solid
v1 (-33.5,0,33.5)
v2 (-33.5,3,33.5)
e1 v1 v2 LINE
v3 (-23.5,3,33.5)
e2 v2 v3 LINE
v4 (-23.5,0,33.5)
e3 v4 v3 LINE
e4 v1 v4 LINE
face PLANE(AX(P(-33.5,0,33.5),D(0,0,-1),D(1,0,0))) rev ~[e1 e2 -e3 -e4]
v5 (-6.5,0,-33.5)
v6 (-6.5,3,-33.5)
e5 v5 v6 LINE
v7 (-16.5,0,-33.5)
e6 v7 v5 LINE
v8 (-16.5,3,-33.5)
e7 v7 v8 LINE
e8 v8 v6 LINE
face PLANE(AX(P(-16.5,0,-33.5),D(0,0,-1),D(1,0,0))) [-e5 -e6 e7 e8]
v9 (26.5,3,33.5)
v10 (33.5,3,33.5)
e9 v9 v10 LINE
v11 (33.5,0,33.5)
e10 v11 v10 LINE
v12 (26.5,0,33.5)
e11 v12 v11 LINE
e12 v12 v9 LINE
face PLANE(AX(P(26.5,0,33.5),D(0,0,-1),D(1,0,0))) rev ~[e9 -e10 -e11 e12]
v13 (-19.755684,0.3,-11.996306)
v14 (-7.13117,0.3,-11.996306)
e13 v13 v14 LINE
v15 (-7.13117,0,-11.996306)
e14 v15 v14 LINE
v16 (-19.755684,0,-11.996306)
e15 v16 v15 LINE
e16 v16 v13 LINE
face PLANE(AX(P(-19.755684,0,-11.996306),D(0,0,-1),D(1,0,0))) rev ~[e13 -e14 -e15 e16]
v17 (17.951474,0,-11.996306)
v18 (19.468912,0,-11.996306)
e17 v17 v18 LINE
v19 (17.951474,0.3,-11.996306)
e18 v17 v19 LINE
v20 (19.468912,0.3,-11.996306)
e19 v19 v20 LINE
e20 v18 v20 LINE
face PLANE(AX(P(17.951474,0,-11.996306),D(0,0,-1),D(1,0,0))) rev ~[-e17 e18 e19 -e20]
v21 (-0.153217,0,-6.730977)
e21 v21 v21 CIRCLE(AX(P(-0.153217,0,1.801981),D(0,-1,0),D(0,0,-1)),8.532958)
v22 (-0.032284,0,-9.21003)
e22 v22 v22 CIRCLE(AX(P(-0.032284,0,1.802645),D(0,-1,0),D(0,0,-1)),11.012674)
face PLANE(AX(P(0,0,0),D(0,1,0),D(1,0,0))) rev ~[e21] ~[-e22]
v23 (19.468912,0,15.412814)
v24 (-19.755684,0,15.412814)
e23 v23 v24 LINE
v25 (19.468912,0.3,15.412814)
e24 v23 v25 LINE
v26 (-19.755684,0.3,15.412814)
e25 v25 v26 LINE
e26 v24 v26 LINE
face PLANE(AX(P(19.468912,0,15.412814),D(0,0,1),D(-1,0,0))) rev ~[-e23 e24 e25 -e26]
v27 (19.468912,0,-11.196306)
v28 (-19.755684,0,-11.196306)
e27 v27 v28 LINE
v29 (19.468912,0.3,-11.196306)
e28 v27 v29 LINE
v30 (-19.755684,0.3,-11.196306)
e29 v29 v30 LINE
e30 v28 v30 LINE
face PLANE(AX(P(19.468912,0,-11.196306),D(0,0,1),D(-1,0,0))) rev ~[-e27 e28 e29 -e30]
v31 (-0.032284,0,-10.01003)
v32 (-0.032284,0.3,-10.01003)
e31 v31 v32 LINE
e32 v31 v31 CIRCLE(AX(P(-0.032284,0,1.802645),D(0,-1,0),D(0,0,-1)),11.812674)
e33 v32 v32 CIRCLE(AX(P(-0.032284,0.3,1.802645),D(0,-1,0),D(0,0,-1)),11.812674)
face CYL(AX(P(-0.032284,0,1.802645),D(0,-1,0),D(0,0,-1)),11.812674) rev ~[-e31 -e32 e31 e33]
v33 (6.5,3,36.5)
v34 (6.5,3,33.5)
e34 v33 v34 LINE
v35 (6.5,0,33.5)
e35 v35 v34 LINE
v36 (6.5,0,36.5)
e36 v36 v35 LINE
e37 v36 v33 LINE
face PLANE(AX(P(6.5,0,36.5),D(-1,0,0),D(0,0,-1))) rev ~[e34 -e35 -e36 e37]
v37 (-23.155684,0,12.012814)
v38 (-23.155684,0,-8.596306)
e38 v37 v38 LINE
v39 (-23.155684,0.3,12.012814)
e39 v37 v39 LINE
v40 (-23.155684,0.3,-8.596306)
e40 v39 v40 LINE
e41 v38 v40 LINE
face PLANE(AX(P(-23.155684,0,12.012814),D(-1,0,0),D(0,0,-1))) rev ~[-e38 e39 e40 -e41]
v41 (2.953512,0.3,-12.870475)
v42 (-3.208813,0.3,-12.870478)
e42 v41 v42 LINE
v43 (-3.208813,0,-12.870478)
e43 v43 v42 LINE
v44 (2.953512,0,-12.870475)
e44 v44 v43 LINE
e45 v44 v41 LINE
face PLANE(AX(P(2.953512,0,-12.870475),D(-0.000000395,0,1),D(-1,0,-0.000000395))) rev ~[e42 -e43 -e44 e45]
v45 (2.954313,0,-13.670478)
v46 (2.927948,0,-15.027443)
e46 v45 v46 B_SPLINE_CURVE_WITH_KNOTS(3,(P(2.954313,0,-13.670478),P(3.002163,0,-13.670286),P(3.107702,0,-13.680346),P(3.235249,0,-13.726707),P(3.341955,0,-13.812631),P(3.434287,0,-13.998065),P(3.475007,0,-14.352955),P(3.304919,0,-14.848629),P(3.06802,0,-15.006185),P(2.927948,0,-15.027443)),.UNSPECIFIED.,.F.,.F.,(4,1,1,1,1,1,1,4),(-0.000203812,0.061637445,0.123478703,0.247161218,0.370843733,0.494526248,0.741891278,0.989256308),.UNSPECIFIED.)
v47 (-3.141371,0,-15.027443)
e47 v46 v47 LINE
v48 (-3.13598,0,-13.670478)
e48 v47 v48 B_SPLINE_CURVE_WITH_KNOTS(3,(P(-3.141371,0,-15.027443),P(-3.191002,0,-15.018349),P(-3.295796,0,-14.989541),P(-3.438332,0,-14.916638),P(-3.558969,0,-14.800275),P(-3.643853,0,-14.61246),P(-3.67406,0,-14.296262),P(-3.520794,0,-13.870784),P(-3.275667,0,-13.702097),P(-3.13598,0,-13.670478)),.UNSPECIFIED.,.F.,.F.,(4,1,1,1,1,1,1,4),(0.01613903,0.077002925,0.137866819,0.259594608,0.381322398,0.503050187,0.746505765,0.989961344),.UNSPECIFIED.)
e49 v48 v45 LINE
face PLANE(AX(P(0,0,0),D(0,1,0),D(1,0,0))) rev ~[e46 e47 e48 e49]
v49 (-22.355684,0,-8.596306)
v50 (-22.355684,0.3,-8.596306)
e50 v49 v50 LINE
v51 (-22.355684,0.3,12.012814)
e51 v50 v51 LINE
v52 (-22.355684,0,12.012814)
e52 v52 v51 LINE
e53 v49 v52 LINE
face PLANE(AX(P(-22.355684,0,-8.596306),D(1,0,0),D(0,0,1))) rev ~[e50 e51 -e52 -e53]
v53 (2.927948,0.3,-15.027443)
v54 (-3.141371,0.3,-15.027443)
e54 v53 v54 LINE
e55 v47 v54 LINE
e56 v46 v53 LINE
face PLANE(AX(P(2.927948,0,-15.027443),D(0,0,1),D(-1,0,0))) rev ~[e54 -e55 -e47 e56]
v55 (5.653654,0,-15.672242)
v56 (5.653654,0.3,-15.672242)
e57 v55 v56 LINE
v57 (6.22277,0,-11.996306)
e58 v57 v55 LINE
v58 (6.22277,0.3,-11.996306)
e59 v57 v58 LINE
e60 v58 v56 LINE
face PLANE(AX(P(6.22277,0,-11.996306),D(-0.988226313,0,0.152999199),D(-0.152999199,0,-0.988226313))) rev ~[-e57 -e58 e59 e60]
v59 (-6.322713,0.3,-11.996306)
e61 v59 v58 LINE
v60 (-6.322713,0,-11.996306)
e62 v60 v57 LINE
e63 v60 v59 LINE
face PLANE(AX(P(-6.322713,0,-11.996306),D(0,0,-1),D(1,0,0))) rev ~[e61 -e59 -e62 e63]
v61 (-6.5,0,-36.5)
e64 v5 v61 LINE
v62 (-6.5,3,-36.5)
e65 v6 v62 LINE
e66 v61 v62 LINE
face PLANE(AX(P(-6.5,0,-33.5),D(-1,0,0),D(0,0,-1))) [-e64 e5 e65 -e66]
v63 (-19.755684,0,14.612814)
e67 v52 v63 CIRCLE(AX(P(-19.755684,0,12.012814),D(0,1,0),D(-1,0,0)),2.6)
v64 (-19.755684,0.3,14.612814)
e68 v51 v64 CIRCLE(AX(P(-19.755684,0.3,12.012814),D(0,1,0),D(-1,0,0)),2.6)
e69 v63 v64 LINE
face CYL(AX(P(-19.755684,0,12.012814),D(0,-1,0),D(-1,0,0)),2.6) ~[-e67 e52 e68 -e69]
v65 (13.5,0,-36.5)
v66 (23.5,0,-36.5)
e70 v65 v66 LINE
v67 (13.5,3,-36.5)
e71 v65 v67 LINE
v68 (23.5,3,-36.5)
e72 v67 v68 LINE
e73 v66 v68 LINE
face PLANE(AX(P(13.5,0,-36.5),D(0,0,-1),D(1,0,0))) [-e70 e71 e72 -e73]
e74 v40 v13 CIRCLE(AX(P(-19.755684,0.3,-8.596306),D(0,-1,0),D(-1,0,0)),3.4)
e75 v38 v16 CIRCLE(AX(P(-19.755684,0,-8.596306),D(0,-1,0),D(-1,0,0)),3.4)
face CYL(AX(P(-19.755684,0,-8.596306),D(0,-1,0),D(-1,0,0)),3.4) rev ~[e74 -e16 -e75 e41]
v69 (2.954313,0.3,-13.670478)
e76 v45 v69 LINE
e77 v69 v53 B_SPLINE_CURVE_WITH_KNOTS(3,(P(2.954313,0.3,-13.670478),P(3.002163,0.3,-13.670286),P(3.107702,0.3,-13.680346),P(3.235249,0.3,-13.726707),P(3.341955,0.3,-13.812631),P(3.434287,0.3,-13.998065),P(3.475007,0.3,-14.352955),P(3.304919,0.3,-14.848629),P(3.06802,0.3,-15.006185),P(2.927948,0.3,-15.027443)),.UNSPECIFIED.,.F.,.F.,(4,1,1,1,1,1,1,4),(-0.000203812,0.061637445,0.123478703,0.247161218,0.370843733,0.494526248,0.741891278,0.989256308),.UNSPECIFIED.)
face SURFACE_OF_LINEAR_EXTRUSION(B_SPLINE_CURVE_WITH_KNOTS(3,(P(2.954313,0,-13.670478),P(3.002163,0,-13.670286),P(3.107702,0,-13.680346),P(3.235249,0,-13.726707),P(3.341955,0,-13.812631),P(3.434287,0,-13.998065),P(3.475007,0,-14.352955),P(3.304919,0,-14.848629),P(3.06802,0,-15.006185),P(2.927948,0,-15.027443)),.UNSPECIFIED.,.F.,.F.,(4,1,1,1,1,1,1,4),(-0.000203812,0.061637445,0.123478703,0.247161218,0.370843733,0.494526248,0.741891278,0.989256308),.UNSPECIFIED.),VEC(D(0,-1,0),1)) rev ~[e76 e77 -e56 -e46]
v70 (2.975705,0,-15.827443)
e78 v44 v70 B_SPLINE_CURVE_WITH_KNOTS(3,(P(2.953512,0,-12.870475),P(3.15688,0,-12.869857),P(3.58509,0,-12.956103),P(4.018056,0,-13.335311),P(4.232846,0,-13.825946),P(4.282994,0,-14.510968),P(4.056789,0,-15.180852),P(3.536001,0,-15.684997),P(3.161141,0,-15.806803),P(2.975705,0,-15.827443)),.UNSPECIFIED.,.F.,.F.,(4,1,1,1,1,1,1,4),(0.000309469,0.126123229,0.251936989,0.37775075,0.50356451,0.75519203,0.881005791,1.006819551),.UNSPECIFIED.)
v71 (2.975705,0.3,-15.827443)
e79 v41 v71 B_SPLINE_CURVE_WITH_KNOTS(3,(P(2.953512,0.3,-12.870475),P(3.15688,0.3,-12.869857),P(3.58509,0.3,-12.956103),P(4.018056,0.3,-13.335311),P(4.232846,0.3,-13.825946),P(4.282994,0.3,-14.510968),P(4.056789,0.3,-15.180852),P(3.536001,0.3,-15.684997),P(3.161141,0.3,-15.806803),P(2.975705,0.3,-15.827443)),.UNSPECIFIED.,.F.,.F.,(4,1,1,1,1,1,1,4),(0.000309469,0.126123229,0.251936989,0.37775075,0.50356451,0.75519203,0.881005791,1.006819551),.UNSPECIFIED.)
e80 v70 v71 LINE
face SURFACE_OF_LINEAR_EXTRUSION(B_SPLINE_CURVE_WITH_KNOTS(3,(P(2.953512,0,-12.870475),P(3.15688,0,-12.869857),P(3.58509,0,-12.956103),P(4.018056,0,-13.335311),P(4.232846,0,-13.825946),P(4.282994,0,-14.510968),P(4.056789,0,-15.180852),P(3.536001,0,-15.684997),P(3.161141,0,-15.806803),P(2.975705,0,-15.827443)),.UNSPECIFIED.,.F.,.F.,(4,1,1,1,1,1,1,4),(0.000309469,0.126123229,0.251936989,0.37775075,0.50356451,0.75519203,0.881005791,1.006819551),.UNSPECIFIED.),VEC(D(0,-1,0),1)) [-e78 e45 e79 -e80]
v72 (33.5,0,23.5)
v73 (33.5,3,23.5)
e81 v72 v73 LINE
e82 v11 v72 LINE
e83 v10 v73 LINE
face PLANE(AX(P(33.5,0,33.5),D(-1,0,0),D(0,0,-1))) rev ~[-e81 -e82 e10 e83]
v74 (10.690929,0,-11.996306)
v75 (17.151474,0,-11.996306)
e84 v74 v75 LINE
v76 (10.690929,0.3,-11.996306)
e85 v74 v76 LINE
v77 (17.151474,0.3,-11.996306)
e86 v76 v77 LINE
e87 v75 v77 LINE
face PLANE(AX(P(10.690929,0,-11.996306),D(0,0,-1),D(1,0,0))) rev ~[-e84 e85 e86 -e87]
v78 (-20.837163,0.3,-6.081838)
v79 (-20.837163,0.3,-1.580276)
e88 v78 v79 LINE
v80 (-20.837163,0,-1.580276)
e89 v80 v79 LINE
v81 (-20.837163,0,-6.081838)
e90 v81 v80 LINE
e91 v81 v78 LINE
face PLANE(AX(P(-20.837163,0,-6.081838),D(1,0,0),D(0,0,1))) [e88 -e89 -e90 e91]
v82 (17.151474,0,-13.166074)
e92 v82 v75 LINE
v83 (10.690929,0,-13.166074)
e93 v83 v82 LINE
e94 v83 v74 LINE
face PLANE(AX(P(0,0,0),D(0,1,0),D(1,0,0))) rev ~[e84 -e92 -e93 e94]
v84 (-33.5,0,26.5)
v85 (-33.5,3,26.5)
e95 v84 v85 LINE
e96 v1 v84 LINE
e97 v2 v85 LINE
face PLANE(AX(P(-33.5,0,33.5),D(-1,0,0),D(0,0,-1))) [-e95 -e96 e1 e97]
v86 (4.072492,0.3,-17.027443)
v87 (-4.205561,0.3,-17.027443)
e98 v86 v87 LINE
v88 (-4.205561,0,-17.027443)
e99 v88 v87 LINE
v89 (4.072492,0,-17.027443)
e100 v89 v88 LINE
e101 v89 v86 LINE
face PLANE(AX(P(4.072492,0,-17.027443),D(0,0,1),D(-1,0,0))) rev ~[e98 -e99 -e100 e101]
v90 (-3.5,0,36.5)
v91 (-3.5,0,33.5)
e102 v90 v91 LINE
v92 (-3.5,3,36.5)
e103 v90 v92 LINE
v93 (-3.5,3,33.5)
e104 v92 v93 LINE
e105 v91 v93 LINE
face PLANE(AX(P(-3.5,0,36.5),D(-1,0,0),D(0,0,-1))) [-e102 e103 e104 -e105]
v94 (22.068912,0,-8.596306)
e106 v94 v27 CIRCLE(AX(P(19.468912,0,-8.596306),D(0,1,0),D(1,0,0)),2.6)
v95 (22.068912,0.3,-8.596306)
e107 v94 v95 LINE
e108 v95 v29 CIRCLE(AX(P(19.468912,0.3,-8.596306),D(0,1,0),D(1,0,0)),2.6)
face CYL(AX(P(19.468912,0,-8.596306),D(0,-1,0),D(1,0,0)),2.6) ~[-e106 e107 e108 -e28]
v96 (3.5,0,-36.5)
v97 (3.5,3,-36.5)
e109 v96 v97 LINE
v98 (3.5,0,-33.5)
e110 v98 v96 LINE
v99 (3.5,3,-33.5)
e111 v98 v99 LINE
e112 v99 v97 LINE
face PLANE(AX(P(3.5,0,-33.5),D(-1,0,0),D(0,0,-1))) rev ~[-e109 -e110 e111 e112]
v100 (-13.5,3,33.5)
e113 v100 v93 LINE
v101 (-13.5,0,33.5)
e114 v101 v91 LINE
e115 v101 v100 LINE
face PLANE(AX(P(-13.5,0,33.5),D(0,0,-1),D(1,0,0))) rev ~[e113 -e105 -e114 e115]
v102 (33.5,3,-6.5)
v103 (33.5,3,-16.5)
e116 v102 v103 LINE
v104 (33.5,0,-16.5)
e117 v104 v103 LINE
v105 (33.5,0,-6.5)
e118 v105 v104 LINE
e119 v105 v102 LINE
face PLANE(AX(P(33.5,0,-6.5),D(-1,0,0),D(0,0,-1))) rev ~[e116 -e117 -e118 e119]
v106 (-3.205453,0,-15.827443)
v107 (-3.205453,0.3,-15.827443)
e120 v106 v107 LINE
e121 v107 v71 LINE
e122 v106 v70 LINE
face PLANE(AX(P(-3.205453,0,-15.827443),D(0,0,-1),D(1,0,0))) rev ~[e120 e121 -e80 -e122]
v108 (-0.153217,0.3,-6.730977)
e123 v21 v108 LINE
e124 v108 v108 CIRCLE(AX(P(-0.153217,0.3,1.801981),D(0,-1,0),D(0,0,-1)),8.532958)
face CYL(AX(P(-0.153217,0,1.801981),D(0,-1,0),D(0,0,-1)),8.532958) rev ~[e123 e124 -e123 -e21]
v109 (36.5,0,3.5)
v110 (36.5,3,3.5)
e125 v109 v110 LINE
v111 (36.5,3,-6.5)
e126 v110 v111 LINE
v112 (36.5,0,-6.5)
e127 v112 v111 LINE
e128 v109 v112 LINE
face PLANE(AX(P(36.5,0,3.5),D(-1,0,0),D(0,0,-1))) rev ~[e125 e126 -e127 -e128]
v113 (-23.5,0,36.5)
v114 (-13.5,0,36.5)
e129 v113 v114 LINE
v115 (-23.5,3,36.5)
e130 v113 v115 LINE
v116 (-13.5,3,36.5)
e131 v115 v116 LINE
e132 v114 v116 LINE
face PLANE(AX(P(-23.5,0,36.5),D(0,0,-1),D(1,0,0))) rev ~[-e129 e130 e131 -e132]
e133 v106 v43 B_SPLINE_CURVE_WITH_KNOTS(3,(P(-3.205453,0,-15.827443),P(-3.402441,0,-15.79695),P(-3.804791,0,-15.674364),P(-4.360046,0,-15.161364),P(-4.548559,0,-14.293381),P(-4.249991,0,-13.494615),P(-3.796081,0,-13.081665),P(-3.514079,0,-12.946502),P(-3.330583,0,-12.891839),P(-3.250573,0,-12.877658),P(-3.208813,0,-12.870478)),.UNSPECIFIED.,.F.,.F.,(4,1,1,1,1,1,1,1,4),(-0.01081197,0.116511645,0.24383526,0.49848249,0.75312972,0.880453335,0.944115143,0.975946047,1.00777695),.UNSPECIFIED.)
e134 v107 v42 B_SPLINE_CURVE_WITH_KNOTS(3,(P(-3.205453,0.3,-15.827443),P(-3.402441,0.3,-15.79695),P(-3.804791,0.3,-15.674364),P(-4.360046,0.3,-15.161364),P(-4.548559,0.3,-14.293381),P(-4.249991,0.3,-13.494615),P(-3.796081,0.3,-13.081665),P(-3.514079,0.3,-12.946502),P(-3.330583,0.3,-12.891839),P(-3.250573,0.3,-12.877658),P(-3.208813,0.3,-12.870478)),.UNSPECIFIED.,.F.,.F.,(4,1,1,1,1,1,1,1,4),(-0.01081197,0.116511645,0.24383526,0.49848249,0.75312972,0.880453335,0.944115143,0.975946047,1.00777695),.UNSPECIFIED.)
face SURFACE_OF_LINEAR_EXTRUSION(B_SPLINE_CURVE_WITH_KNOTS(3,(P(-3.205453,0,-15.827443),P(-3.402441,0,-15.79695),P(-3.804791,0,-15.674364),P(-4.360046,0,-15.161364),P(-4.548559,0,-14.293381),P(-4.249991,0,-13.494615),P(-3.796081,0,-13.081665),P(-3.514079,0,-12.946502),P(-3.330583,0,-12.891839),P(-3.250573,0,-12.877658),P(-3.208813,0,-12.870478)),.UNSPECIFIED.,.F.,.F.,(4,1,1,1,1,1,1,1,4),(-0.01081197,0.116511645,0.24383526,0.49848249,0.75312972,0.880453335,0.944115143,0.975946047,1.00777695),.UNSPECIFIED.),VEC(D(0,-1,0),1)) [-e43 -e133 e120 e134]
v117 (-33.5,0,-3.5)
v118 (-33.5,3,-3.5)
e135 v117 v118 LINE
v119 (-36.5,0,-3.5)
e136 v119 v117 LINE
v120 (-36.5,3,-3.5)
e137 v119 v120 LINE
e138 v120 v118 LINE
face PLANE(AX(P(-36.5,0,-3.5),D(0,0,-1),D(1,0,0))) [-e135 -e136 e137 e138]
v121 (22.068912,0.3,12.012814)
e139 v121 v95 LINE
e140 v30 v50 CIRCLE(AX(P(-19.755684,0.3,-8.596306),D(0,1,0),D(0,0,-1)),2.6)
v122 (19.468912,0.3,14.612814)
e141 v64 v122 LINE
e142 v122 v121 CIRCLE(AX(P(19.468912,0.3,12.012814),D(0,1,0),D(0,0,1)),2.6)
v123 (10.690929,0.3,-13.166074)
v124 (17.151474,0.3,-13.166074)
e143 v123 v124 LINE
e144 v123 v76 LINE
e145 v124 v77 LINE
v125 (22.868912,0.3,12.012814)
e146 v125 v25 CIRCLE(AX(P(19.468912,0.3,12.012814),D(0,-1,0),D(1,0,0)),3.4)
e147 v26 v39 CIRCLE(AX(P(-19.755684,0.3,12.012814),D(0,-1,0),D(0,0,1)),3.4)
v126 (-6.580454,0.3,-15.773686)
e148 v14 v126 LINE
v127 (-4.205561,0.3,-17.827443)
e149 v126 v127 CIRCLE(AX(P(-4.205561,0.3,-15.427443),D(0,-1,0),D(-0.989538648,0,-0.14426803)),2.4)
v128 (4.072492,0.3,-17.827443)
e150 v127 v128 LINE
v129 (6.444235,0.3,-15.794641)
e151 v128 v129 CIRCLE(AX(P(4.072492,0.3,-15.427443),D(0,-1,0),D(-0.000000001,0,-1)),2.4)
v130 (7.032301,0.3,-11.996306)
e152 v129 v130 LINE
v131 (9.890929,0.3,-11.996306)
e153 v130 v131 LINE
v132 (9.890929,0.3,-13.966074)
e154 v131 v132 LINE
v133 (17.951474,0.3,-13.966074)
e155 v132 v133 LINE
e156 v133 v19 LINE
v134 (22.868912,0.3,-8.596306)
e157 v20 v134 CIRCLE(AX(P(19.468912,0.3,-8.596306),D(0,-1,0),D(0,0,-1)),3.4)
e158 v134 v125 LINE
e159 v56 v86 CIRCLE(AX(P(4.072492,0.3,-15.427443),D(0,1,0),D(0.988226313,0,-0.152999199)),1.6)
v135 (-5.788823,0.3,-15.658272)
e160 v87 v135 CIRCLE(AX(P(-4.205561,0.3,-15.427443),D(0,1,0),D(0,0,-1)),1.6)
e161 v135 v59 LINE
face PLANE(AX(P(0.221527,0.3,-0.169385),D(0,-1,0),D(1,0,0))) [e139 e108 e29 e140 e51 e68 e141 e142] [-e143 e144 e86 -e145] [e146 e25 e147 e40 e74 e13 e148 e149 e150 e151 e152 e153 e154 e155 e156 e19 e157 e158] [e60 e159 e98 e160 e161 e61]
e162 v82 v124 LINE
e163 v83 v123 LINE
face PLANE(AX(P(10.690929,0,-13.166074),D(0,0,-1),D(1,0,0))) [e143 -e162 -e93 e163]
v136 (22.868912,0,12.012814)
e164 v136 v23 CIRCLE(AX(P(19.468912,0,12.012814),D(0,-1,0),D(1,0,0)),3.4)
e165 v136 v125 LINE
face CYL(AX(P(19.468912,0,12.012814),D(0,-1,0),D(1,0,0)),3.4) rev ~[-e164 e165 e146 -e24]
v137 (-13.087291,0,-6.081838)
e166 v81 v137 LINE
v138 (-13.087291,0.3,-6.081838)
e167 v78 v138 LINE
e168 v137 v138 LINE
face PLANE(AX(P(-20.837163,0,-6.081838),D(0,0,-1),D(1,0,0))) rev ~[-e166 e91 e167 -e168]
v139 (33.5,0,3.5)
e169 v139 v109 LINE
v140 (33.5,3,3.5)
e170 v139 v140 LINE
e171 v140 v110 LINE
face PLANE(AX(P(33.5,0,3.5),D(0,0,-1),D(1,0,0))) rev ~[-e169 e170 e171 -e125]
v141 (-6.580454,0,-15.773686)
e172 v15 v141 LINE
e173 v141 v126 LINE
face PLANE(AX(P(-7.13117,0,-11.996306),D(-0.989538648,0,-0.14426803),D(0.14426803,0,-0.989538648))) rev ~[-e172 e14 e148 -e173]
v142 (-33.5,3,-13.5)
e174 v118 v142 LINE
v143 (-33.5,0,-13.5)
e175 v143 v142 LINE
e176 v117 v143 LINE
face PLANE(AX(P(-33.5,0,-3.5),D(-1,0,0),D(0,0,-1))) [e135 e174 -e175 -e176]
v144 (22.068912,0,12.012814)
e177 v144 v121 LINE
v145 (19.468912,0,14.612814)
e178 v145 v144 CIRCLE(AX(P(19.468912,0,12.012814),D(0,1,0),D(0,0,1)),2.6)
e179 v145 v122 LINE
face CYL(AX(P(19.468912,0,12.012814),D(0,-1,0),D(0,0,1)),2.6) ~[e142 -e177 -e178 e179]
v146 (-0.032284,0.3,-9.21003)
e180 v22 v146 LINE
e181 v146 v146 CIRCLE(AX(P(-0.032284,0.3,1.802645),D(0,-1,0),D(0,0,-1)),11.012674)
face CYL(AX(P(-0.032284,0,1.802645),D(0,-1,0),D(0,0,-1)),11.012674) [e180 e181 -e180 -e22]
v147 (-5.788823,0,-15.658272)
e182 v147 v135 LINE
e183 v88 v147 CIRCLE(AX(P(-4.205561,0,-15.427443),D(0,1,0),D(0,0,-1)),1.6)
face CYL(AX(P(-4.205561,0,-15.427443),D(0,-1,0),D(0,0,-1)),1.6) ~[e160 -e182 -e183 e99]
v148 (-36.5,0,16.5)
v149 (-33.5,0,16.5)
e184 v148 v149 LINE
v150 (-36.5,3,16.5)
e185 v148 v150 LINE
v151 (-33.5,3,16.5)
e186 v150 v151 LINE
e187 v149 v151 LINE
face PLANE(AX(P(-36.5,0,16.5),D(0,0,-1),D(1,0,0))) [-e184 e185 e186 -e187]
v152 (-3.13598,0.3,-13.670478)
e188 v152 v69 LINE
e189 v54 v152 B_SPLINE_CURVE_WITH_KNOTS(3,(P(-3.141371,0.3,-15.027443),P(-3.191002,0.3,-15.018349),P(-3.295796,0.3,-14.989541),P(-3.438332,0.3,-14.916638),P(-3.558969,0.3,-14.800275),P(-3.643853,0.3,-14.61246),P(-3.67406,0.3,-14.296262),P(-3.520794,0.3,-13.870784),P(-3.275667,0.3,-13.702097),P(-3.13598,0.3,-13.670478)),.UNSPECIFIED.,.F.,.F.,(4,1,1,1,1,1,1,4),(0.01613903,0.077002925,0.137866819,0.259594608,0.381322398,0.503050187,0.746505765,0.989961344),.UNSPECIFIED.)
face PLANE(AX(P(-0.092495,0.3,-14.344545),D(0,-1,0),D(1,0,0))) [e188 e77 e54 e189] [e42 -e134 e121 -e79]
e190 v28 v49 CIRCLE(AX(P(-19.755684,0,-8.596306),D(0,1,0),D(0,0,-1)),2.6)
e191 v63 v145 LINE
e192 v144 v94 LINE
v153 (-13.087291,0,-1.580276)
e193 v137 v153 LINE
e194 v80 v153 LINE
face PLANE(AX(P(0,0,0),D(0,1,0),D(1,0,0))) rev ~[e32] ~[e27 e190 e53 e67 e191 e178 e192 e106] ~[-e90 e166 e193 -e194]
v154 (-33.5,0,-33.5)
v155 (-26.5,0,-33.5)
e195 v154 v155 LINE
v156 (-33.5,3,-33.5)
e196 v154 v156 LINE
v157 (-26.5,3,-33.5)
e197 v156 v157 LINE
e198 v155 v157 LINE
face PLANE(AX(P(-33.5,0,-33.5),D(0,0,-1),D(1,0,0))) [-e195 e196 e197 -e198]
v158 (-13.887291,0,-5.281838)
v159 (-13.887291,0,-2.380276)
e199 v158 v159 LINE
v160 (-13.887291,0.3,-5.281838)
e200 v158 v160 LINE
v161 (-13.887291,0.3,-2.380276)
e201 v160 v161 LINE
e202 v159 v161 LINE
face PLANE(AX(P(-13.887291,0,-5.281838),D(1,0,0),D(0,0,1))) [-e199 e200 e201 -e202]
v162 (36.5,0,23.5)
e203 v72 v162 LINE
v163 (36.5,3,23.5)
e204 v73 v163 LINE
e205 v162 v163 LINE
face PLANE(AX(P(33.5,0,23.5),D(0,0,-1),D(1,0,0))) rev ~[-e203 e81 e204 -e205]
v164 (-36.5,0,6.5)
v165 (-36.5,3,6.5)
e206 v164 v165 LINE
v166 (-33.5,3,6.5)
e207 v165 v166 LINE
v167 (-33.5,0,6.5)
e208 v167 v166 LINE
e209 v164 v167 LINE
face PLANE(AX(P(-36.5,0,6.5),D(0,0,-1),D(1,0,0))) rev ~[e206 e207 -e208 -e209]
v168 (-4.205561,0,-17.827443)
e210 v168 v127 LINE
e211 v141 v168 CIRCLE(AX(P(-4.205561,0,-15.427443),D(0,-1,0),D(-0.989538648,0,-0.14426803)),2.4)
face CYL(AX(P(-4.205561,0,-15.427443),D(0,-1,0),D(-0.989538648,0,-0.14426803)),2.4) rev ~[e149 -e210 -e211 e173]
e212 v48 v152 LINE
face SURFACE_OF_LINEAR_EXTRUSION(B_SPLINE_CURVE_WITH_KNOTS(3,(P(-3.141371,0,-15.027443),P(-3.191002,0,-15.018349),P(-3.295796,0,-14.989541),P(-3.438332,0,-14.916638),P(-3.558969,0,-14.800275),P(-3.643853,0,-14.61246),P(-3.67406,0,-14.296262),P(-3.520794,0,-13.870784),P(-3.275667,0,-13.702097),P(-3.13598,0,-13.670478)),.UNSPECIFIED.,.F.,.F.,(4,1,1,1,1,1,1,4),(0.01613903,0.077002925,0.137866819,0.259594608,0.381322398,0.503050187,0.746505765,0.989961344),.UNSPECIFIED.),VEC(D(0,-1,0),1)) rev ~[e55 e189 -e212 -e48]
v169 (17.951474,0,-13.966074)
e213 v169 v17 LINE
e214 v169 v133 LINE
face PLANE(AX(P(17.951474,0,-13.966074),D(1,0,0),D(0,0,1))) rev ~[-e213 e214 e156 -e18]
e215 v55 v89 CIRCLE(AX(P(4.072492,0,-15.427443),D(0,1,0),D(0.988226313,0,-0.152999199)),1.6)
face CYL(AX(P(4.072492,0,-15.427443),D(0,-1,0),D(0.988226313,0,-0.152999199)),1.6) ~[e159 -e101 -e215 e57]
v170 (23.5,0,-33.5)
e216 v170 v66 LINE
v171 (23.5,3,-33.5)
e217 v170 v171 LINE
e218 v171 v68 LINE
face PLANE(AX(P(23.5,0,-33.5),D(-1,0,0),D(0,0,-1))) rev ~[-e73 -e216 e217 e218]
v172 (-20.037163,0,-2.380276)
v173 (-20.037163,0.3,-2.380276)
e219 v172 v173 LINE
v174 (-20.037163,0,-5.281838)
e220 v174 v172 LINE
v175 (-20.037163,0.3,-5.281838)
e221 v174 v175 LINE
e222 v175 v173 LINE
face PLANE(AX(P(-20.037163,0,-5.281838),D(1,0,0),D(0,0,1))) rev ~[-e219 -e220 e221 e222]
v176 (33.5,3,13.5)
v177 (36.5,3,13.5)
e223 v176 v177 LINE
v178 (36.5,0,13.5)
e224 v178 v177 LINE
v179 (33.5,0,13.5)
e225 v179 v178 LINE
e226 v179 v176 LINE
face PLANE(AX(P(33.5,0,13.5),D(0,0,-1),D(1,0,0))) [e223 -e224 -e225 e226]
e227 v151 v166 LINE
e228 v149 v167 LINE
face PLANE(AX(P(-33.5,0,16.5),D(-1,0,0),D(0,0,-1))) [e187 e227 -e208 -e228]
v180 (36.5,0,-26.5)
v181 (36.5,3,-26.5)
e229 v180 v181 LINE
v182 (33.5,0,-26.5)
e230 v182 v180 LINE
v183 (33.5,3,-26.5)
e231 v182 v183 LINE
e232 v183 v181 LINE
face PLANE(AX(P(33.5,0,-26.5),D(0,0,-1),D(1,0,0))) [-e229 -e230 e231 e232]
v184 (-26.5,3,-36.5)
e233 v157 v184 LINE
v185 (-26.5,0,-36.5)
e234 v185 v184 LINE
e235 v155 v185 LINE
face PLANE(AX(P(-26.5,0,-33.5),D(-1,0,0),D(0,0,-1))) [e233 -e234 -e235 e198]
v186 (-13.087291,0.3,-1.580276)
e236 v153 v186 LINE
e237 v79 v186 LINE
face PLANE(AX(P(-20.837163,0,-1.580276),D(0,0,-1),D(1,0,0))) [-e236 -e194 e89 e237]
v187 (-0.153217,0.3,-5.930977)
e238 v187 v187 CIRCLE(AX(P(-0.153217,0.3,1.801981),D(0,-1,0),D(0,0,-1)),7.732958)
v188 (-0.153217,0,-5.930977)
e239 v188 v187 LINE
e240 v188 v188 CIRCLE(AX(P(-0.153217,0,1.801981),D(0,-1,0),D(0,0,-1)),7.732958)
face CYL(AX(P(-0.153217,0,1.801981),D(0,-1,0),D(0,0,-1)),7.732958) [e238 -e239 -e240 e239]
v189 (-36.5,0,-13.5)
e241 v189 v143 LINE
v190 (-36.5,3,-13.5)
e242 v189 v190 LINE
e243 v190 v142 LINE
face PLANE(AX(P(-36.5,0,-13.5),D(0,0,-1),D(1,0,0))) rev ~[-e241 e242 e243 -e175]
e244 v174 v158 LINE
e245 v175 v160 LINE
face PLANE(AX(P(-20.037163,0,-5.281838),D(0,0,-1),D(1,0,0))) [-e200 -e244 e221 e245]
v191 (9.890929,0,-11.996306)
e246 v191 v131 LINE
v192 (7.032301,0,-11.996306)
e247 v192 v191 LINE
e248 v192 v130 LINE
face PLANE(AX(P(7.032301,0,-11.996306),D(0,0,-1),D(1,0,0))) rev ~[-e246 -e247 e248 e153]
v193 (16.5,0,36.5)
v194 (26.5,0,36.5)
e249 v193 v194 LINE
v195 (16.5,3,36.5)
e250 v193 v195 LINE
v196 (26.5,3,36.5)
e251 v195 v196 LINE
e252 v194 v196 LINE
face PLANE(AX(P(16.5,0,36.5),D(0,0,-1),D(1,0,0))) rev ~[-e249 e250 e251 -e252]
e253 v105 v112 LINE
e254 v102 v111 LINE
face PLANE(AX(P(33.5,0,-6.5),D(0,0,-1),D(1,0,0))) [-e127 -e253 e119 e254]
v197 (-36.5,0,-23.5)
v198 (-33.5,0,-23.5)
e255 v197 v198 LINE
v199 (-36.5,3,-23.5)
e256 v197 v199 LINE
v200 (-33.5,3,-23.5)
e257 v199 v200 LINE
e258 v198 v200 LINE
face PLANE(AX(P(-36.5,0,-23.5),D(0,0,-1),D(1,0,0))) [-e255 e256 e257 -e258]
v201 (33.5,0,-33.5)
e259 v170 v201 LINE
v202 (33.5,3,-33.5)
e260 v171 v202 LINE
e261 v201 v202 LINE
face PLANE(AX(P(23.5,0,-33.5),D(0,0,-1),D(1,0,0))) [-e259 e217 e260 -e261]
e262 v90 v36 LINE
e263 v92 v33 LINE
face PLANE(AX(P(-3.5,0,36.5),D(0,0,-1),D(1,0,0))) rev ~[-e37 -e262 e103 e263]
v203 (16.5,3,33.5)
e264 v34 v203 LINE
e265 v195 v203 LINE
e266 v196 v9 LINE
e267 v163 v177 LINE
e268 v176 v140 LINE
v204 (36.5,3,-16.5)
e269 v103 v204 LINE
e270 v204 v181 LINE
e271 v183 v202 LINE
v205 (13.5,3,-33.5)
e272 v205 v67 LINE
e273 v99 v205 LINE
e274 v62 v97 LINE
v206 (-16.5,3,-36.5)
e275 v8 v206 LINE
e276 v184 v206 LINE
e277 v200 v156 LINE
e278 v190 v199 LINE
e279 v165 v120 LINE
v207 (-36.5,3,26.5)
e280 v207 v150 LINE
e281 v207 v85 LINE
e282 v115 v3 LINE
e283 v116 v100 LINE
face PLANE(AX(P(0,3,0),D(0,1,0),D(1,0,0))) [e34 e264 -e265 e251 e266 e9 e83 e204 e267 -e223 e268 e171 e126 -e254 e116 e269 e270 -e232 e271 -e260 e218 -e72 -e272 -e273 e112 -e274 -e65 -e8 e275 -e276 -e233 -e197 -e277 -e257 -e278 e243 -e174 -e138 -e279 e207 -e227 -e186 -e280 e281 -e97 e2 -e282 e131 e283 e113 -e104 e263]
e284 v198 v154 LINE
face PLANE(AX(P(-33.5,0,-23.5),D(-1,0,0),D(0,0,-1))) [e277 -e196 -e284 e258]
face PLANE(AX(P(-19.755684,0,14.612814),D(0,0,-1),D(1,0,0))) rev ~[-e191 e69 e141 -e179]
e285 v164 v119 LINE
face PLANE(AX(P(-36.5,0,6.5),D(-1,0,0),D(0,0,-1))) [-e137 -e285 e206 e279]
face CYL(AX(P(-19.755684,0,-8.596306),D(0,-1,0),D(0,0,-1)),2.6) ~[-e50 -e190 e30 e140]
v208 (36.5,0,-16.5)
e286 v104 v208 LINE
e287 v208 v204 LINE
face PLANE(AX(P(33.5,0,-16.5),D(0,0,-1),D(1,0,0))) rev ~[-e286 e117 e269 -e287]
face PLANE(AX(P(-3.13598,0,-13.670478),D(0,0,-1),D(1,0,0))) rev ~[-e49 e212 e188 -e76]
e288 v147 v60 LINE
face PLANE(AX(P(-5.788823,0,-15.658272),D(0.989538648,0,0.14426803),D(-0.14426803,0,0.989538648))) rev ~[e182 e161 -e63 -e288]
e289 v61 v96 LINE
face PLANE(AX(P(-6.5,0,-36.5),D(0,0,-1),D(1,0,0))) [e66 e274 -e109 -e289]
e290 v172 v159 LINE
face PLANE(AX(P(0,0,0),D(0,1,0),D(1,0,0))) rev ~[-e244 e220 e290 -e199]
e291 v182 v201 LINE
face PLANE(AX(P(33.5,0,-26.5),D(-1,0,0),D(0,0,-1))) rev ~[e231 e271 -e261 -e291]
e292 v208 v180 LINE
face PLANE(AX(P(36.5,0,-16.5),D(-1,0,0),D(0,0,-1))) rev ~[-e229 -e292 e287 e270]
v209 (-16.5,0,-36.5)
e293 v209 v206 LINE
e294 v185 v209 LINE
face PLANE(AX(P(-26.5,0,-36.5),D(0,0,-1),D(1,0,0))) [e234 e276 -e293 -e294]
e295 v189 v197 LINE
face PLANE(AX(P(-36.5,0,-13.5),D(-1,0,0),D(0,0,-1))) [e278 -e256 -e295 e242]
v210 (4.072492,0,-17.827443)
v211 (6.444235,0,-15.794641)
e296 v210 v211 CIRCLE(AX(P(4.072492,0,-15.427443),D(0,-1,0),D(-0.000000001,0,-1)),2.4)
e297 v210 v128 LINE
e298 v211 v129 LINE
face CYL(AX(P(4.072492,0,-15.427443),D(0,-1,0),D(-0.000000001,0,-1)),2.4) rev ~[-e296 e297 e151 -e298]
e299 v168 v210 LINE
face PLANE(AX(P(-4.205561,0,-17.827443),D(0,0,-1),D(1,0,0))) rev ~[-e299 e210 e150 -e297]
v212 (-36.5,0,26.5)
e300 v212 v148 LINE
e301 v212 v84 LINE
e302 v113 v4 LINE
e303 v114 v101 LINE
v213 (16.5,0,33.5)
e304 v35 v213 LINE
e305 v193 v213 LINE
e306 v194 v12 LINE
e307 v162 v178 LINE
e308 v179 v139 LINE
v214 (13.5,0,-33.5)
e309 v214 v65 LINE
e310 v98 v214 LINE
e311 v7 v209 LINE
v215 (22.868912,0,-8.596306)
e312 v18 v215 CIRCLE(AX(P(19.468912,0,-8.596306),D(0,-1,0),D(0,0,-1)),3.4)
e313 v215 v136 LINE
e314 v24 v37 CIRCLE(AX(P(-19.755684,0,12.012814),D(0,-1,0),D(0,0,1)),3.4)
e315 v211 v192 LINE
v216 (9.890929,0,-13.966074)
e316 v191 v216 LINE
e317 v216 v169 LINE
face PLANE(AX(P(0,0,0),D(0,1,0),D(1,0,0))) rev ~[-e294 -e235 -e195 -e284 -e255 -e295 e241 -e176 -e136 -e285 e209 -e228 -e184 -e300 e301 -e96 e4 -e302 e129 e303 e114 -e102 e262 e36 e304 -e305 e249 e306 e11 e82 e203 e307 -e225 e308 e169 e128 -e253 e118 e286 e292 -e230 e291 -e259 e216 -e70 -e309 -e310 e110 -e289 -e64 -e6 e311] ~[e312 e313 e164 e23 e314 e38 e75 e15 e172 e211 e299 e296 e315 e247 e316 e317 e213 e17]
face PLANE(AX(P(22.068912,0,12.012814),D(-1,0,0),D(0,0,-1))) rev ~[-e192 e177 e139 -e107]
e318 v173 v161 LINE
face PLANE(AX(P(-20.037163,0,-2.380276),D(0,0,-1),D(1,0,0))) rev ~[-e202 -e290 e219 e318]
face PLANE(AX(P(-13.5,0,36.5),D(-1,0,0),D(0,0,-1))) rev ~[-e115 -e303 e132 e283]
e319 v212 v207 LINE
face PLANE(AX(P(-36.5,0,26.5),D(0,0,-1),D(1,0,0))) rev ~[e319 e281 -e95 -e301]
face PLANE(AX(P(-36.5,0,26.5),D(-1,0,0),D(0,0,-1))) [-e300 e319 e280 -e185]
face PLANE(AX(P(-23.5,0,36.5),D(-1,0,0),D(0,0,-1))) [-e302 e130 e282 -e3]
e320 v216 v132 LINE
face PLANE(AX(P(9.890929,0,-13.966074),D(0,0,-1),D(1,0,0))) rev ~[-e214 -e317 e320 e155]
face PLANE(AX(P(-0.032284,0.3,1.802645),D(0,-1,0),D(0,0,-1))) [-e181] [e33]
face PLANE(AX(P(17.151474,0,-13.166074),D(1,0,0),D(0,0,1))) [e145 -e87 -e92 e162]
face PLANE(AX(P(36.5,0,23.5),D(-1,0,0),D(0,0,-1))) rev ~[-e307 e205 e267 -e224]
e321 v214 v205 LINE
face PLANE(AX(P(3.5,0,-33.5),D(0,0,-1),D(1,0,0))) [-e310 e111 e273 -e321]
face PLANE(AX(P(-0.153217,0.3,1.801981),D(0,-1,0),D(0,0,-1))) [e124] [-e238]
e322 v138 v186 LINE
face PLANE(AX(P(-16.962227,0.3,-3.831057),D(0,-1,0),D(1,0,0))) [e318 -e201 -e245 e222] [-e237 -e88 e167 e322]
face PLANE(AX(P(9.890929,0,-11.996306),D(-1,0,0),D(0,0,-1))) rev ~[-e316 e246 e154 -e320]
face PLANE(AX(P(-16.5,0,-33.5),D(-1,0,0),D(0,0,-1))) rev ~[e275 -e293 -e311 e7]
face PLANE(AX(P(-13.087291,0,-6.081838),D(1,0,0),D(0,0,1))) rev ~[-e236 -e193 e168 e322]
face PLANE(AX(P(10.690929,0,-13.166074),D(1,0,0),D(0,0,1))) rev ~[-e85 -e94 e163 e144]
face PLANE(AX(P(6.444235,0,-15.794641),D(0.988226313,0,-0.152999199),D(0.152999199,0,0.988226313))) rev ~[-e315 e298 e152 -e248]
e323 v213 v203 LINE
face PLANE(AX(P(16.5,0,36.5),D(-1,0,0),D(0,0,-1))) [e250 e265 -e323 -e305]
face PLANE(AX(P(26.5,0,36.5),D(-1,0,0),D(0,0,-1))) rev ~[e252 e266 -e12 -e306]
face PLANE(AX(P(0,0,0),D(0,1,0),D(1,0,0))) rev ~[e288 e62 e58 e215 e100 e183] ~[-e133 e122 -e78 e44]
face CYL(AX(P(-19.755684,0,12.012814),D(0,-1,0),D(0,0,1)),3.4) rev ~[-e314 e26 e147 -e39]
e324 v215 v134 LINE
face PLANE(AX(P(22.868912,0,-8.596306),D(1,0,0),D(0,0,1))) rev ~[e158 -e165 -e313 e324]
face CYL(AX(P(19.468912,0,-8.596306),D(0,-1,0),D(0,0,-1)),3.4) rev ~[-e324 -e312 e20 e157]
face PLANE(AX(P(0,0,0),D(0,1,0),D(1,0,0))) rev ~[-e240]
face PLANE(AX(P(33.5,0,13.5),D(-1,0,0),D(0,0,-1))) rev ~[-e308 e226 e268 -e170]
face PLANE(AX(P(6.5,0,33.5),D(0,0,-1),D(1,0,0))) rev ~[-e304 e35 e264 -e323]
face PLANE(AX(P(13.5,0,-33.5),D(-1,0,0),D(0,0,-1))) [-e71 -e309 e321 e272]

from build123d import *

# Parameters (mm, degrees)
SKETCH1_W           = 67
SKETCH1_H           = 67
SKETCH1_W_2         = 3
SKETCH1_H_2         = 10
SKETCH1_W_3         = 10
SKETCH1_H_3         = 3
BOSS_EXTRUDE1_DEPTH = 3
SKETCH3_W           = 6.460545278
SKETCH3_H           = 1.169767542
SKETCH3_W_2         = 7.74987154
SKETCH3_H_2         = 4.501562016
SKETCH3_W_3         = 6.14987154
SKETCH3_H_3         = 2.901562016
SKETCH3_R           = 11.812674278
SKETCH3_R_2         = 11.012674278
SKETCH3_R_3         = 8.532957956
SKETCH3_R_4         = 7.732957956
CUT_EXTRUDE1_DEPTH  = 0.3


with BuildPart() as part:
    # Sketch1 → Boss-Extrude1 (new body)
    with BuildSketch(Plane(origin=(0, 0, 0), x_dir=(1, 0, 0), z_dir=(0, 1, 0))):
        Rectangle(SKETCH1_W, SKETCH1_H)
        with Locations((-35, -21.5)):
            Rectangle(SKETCH1_W_2, SKETCH1_H_2)
        with Locations((-35, -1.5)):
            Rectangle(SKETCH1_W_2, SKETCH1_H_2)
        with Locations((-35, 18.5)):
            Rectangle(SKETCH1_W_2, SKETCH1_H_2)
        with Locations((-18.5, -35)):
            Rectangle(SKETCH1_W_3, SKETCH1_H_3)
        with Locations((1.5, -35)):
            Rectangle(SKETCH1_W_3, SKETCH1_H_3)
        with Locations((21.5, -35)):
            Rectangle(SKETCH1_W_3, SKETCH1_H_3)
        with Locations((35, -18.5)):
            Rectangle(SKETCH1_W_2, SKETCH1_H_2)
        with Locations((35, 1.5)):
            Rectangle(SKETCH1_W_2, SKETCH1_H_2)
        with Locations((35, 21.5)):
            Rectangle(SKETCH1_W_2, SKETCH1_H_2)
        with Locations((18.5, 35)):
            Rectangle(SKETCH1_W_3, SKETCH1_H_3)
        with Locations((-1.5, 35)):
            Rectangle(SKETCH1_W_3, SKETCH1_H_3)
        with Locations((-21.5, 35)):
            Rectangle(SKETCH1_W_3, SKETCH1_H_3)
    extrude(amount=BOSS_EXTRUDE1_DEPTH)

    # Sketch3 → Cut-Extrude1 (cut)
    # profile 1 of 5: a face of its own
    with BuildSketch(Plane.XZ):
        with BuildLine():
            Line((17.951474003, -11.996306148), (19.468912415, -11.996306148))
            ThreePointArc((19.468912415, -11.996306148), (21.873075471, -11.000469204), (22.868912415, -8.596306148))
            Line((22.868912415, -8.596306148), (22.868912415, 12.012813943))
            ThreePointArc((22.868912415, 12.012813943), (21.873075471, 14.416976999), (19.468912415, 15.412813943))
            Line((19.468912415, 15.412813943), (-19.75568403, 15.412813943))
            ThreePointArc((-19.75568403, 15.412813943), (-22.159847086, 14.416976999), (-23.15568403, 12.012813943))
            Line((-23.15568403, 12.012813943), (-23.15568403, -8.596306148))
            ThreePointArc((-23.15568403, -8.596306148), (-22.159847086, -11.000469204), (-19.75568403, -11.996306148))
            Line((-19.75568403, -11.996306148), (-7.131170101, -11.996306148))
            Line((-7.131170101, -11.996306148), (-6.58045367, -15.77368629))
            ThreePointArc((-6.58045367, -15.77368629), (-5.775436093, -17.242792), (-4.205560916, -17.827443017))
            Line((-4.205560916, -17.827443017), (4.072492002, -17.827443017))
            ThreePointArc((4.072492002, -17.827443017), (5.634337803, -17.249704715), (6.444235152, -15.794641095))
            Line((6.444235152, -15.794641095), (7.032301062, -11.996306148))
            Line((7.032301062, -11.996306148), (9.890928725, -11.996306148))
            Line((9.890928725, -11.996306148), (9.890928725, -13.96607369))
            Line((9.890928725, -13.96607369), (17.951474003, -13.96607369))
            Line((17.951474003, -13.96607369), (17.951474003, -11.996306148))
        make_face()
        with BuildLine():
            Line((-6.322712542, -11.996306148), (6.222769895, -11.996306148))
            Line((6.222769895, -11.996306148), (5.653654102, -15.672241736))
            ThreePointArc((5.653654102, -15.672241736), (5.113722536, -16.642284149), (4.072492002, -17.027443017))
            Line((4.072492002, -17.027443017), (-4.205560916, -17.027443017))
            ThreePointArc((-4.205560916, -17.027443017), (-5.252144367, -16.637675672), (-5.788822752, -15.658271866))
            Line((-5.788822752, -15.658271866), (-6.322712542, -11.996306148))
        make_face(mode=Mode.SUBTRACT)
        with Locations((13.921201364, -12.581189919)):
            Rectangle(SKETCH3_W, SKETCH3_H, mode=Mode.SUBTRACT)
        with BuildLine():
            ThreePointArc((22.068912415, -8.596306148), (21.307390046, -10.434783779), (19.468912415, -11.196306148))
            Line((19.468912415, -11.196306148), (-19.75568403, -11.196306148))
            ThreePointArc((-19.75568403, -11.196306148), (-21.594161661, -10.434783779), (-22.35568403, -8.596306148))
            Line((-22.35568403, -8.596306148), (-22.35568403, 12.012813943))
            ThreePointArc((-22.35568403, 12.012813943), (-21.594161661, 13.851291574), (-19.75568403, 14.612813943))
            Line((-19.75568403, 14.612813943), (19.468912415, 14.612813943))
            ThreePointArc((19.468912415, 14.612813943), (21.307390046, 13.851291574), (22.068912415, 12.012813943))
            Line((22.068912415, 12.012813943), (22.068912415, -8.596306148))
        make_face(mode=Mode.SUBTRACT)
    # profile 2 of 5: a face of its own
    with BuildSketch(Plane.XZ):
        with BuildLine():
            Line((-3.20545277, -15.827443017), (2.975704553, -15.827443017))
            add(Edge.make_bspline(
                [(2.953511817, -12.870475248), (3.156880299, -12.869857322), (3.585089851, -12.956102965), (4.018056229, -13.335311226), (4.232845726, -13.825946117), (4.282993557, -14.510967663), (4.056789396, -15.180852207), (3.536001149, -15.684997342), (3.16114062, -15.80680282), (2.975704553, -15.827443017)],
                knots=[0.000309469, 0.000309469, 0.000309469, 0.000309469, 0.126123229, 0.251936989, 0.37775075, 0.50356451, 0.75519203, 0.881005791, 1.006819551, 1.006819551, 1.006819551, 1.006819551], degree=3))
            Line((2.953511817, -12.870475248), (-3.208812782, -12.870477681))
            add(Edge.make_bspline(
                [(-3.20545277, -15.827443017), (-3.402440677, -15.796950089), (-3.804790668, -15.67436393), (-4.360046403, -15.161364486), (-4.548558911, -14.293381235), (-4.249990898, -13.494614941), (-3.796080691, -13.08166476), (-3.514079359, -12.94650227), (-3.330583264, -12.891839413), (-3.250572572, -12.877657517), (-3.208812782, -12.870477681)],
                knots=[-0.01081197, -0.01081197, -0.01081197, -0.01081197, 0.116511645, 0.24383526, 0.49848249, 0.75312972, 0.880453335, 0.944115143, 0.975946047, 1.00777695, 1.00777695, 1.00777695, 1.00777695], degree=3))
        make_face()
        with BuildLine():
            add(Edge.make_bspline(
                [(2.954312548, -13.670477681), (3.002162708, -13.670286106), (3.107702292, -13.680346372), (3.235248962, -13.726706918), (3.341954697, -13.812630756), (3.434286544, -13.998064842), (3.47500749, -14.35295522), (3.304919264, -14.84862877), (3.068019803, -15.006185035), (2.927947638, -15.027443017)],
                knots=[-0.000203812, -0.000203812, -0.000203812, -0.000203812, 0.061637445, 0.123478703, 0.247161218, 0.370843733, 0.494526248, 0.741891278, 0.989256308, 0.989256308, 0.989256308, 0.989256308], degree=3))
            Line((2.927947638, -15.027443017), (-3.141370514, -15.027443017))
            add(Edge.make_bspline(
                [(-3.141370514, -15.027443017), (-3.191002063, -15.018349114), (-3.295796079, -14.989541193), (-3.43833154, -14.916637531), (-3.558968521, -14.800275144), (-3.643853224, -14.612459797), (-3.674059975, -14.29626228), (-3.520794101, -13.870784083), (-3.275666554, -13.702096641), (-3.135980342, -13.670477681)],
                knots=[0.01613903, 0.01613903, 0.01613903, 0.01613903, 0.077002925, 0.137866819, 0.259594608, 0.381322398, 0.503050187, 0.746505765, 0.989961344, 0.989961344, 0.989961344, 0.989961344], degree=3))
            Line((-3.135980342, -13.670477681), (2.954312548, -13.670477681))
        make_face(mode=Mode.SUBTRACT)
    # profile 3 of 5: a face of its own
    with BuildSketch(Plane.XZ):
        with Locations((-16.962226762, -3.831057055)):
            Rectangle(SKETCH3_W_2, SKETCH3_H_2)
        with Locations((-16.962226762, -3.831057055)):
            Rectangle(SKETCH3_W_3, SKETCH3_H_3, mode=Mode.SUBTRACT)
    # profile 4 of 5: a face of its own
    with BuildSketch(Plane.XZ):
        with Locations(Location((-0.032284279, 1.802644777, 0), (0, 0, 270))):
            Circle(SKETCH3_R)
        with Locations(Location((-0.032284279, 1.802644777, 0), (0, 0, 270))):
            Circle(SKETCH3_R_2, mode=Mode.SUBTRACT)
    # profile 5 of 5: a face of its own
    with BuildSketch(Plane.XZ):
        with Locations(Location((-0.153217329, 1.801981193, 0), (0, 0, 270))):
            Circle(SKETCH3_R_3)
        with Locations(Location((-0.153217329, 1.801981193, 0), (0, 0, 270))):
            Circle(SKETCH3_R_4, mode=Mode.SUBTRACT)
    extrude(amount=-CUT_EXTRUDE1_DEPTH, mode=Mode.SUBTRACT)


solid = part.part
